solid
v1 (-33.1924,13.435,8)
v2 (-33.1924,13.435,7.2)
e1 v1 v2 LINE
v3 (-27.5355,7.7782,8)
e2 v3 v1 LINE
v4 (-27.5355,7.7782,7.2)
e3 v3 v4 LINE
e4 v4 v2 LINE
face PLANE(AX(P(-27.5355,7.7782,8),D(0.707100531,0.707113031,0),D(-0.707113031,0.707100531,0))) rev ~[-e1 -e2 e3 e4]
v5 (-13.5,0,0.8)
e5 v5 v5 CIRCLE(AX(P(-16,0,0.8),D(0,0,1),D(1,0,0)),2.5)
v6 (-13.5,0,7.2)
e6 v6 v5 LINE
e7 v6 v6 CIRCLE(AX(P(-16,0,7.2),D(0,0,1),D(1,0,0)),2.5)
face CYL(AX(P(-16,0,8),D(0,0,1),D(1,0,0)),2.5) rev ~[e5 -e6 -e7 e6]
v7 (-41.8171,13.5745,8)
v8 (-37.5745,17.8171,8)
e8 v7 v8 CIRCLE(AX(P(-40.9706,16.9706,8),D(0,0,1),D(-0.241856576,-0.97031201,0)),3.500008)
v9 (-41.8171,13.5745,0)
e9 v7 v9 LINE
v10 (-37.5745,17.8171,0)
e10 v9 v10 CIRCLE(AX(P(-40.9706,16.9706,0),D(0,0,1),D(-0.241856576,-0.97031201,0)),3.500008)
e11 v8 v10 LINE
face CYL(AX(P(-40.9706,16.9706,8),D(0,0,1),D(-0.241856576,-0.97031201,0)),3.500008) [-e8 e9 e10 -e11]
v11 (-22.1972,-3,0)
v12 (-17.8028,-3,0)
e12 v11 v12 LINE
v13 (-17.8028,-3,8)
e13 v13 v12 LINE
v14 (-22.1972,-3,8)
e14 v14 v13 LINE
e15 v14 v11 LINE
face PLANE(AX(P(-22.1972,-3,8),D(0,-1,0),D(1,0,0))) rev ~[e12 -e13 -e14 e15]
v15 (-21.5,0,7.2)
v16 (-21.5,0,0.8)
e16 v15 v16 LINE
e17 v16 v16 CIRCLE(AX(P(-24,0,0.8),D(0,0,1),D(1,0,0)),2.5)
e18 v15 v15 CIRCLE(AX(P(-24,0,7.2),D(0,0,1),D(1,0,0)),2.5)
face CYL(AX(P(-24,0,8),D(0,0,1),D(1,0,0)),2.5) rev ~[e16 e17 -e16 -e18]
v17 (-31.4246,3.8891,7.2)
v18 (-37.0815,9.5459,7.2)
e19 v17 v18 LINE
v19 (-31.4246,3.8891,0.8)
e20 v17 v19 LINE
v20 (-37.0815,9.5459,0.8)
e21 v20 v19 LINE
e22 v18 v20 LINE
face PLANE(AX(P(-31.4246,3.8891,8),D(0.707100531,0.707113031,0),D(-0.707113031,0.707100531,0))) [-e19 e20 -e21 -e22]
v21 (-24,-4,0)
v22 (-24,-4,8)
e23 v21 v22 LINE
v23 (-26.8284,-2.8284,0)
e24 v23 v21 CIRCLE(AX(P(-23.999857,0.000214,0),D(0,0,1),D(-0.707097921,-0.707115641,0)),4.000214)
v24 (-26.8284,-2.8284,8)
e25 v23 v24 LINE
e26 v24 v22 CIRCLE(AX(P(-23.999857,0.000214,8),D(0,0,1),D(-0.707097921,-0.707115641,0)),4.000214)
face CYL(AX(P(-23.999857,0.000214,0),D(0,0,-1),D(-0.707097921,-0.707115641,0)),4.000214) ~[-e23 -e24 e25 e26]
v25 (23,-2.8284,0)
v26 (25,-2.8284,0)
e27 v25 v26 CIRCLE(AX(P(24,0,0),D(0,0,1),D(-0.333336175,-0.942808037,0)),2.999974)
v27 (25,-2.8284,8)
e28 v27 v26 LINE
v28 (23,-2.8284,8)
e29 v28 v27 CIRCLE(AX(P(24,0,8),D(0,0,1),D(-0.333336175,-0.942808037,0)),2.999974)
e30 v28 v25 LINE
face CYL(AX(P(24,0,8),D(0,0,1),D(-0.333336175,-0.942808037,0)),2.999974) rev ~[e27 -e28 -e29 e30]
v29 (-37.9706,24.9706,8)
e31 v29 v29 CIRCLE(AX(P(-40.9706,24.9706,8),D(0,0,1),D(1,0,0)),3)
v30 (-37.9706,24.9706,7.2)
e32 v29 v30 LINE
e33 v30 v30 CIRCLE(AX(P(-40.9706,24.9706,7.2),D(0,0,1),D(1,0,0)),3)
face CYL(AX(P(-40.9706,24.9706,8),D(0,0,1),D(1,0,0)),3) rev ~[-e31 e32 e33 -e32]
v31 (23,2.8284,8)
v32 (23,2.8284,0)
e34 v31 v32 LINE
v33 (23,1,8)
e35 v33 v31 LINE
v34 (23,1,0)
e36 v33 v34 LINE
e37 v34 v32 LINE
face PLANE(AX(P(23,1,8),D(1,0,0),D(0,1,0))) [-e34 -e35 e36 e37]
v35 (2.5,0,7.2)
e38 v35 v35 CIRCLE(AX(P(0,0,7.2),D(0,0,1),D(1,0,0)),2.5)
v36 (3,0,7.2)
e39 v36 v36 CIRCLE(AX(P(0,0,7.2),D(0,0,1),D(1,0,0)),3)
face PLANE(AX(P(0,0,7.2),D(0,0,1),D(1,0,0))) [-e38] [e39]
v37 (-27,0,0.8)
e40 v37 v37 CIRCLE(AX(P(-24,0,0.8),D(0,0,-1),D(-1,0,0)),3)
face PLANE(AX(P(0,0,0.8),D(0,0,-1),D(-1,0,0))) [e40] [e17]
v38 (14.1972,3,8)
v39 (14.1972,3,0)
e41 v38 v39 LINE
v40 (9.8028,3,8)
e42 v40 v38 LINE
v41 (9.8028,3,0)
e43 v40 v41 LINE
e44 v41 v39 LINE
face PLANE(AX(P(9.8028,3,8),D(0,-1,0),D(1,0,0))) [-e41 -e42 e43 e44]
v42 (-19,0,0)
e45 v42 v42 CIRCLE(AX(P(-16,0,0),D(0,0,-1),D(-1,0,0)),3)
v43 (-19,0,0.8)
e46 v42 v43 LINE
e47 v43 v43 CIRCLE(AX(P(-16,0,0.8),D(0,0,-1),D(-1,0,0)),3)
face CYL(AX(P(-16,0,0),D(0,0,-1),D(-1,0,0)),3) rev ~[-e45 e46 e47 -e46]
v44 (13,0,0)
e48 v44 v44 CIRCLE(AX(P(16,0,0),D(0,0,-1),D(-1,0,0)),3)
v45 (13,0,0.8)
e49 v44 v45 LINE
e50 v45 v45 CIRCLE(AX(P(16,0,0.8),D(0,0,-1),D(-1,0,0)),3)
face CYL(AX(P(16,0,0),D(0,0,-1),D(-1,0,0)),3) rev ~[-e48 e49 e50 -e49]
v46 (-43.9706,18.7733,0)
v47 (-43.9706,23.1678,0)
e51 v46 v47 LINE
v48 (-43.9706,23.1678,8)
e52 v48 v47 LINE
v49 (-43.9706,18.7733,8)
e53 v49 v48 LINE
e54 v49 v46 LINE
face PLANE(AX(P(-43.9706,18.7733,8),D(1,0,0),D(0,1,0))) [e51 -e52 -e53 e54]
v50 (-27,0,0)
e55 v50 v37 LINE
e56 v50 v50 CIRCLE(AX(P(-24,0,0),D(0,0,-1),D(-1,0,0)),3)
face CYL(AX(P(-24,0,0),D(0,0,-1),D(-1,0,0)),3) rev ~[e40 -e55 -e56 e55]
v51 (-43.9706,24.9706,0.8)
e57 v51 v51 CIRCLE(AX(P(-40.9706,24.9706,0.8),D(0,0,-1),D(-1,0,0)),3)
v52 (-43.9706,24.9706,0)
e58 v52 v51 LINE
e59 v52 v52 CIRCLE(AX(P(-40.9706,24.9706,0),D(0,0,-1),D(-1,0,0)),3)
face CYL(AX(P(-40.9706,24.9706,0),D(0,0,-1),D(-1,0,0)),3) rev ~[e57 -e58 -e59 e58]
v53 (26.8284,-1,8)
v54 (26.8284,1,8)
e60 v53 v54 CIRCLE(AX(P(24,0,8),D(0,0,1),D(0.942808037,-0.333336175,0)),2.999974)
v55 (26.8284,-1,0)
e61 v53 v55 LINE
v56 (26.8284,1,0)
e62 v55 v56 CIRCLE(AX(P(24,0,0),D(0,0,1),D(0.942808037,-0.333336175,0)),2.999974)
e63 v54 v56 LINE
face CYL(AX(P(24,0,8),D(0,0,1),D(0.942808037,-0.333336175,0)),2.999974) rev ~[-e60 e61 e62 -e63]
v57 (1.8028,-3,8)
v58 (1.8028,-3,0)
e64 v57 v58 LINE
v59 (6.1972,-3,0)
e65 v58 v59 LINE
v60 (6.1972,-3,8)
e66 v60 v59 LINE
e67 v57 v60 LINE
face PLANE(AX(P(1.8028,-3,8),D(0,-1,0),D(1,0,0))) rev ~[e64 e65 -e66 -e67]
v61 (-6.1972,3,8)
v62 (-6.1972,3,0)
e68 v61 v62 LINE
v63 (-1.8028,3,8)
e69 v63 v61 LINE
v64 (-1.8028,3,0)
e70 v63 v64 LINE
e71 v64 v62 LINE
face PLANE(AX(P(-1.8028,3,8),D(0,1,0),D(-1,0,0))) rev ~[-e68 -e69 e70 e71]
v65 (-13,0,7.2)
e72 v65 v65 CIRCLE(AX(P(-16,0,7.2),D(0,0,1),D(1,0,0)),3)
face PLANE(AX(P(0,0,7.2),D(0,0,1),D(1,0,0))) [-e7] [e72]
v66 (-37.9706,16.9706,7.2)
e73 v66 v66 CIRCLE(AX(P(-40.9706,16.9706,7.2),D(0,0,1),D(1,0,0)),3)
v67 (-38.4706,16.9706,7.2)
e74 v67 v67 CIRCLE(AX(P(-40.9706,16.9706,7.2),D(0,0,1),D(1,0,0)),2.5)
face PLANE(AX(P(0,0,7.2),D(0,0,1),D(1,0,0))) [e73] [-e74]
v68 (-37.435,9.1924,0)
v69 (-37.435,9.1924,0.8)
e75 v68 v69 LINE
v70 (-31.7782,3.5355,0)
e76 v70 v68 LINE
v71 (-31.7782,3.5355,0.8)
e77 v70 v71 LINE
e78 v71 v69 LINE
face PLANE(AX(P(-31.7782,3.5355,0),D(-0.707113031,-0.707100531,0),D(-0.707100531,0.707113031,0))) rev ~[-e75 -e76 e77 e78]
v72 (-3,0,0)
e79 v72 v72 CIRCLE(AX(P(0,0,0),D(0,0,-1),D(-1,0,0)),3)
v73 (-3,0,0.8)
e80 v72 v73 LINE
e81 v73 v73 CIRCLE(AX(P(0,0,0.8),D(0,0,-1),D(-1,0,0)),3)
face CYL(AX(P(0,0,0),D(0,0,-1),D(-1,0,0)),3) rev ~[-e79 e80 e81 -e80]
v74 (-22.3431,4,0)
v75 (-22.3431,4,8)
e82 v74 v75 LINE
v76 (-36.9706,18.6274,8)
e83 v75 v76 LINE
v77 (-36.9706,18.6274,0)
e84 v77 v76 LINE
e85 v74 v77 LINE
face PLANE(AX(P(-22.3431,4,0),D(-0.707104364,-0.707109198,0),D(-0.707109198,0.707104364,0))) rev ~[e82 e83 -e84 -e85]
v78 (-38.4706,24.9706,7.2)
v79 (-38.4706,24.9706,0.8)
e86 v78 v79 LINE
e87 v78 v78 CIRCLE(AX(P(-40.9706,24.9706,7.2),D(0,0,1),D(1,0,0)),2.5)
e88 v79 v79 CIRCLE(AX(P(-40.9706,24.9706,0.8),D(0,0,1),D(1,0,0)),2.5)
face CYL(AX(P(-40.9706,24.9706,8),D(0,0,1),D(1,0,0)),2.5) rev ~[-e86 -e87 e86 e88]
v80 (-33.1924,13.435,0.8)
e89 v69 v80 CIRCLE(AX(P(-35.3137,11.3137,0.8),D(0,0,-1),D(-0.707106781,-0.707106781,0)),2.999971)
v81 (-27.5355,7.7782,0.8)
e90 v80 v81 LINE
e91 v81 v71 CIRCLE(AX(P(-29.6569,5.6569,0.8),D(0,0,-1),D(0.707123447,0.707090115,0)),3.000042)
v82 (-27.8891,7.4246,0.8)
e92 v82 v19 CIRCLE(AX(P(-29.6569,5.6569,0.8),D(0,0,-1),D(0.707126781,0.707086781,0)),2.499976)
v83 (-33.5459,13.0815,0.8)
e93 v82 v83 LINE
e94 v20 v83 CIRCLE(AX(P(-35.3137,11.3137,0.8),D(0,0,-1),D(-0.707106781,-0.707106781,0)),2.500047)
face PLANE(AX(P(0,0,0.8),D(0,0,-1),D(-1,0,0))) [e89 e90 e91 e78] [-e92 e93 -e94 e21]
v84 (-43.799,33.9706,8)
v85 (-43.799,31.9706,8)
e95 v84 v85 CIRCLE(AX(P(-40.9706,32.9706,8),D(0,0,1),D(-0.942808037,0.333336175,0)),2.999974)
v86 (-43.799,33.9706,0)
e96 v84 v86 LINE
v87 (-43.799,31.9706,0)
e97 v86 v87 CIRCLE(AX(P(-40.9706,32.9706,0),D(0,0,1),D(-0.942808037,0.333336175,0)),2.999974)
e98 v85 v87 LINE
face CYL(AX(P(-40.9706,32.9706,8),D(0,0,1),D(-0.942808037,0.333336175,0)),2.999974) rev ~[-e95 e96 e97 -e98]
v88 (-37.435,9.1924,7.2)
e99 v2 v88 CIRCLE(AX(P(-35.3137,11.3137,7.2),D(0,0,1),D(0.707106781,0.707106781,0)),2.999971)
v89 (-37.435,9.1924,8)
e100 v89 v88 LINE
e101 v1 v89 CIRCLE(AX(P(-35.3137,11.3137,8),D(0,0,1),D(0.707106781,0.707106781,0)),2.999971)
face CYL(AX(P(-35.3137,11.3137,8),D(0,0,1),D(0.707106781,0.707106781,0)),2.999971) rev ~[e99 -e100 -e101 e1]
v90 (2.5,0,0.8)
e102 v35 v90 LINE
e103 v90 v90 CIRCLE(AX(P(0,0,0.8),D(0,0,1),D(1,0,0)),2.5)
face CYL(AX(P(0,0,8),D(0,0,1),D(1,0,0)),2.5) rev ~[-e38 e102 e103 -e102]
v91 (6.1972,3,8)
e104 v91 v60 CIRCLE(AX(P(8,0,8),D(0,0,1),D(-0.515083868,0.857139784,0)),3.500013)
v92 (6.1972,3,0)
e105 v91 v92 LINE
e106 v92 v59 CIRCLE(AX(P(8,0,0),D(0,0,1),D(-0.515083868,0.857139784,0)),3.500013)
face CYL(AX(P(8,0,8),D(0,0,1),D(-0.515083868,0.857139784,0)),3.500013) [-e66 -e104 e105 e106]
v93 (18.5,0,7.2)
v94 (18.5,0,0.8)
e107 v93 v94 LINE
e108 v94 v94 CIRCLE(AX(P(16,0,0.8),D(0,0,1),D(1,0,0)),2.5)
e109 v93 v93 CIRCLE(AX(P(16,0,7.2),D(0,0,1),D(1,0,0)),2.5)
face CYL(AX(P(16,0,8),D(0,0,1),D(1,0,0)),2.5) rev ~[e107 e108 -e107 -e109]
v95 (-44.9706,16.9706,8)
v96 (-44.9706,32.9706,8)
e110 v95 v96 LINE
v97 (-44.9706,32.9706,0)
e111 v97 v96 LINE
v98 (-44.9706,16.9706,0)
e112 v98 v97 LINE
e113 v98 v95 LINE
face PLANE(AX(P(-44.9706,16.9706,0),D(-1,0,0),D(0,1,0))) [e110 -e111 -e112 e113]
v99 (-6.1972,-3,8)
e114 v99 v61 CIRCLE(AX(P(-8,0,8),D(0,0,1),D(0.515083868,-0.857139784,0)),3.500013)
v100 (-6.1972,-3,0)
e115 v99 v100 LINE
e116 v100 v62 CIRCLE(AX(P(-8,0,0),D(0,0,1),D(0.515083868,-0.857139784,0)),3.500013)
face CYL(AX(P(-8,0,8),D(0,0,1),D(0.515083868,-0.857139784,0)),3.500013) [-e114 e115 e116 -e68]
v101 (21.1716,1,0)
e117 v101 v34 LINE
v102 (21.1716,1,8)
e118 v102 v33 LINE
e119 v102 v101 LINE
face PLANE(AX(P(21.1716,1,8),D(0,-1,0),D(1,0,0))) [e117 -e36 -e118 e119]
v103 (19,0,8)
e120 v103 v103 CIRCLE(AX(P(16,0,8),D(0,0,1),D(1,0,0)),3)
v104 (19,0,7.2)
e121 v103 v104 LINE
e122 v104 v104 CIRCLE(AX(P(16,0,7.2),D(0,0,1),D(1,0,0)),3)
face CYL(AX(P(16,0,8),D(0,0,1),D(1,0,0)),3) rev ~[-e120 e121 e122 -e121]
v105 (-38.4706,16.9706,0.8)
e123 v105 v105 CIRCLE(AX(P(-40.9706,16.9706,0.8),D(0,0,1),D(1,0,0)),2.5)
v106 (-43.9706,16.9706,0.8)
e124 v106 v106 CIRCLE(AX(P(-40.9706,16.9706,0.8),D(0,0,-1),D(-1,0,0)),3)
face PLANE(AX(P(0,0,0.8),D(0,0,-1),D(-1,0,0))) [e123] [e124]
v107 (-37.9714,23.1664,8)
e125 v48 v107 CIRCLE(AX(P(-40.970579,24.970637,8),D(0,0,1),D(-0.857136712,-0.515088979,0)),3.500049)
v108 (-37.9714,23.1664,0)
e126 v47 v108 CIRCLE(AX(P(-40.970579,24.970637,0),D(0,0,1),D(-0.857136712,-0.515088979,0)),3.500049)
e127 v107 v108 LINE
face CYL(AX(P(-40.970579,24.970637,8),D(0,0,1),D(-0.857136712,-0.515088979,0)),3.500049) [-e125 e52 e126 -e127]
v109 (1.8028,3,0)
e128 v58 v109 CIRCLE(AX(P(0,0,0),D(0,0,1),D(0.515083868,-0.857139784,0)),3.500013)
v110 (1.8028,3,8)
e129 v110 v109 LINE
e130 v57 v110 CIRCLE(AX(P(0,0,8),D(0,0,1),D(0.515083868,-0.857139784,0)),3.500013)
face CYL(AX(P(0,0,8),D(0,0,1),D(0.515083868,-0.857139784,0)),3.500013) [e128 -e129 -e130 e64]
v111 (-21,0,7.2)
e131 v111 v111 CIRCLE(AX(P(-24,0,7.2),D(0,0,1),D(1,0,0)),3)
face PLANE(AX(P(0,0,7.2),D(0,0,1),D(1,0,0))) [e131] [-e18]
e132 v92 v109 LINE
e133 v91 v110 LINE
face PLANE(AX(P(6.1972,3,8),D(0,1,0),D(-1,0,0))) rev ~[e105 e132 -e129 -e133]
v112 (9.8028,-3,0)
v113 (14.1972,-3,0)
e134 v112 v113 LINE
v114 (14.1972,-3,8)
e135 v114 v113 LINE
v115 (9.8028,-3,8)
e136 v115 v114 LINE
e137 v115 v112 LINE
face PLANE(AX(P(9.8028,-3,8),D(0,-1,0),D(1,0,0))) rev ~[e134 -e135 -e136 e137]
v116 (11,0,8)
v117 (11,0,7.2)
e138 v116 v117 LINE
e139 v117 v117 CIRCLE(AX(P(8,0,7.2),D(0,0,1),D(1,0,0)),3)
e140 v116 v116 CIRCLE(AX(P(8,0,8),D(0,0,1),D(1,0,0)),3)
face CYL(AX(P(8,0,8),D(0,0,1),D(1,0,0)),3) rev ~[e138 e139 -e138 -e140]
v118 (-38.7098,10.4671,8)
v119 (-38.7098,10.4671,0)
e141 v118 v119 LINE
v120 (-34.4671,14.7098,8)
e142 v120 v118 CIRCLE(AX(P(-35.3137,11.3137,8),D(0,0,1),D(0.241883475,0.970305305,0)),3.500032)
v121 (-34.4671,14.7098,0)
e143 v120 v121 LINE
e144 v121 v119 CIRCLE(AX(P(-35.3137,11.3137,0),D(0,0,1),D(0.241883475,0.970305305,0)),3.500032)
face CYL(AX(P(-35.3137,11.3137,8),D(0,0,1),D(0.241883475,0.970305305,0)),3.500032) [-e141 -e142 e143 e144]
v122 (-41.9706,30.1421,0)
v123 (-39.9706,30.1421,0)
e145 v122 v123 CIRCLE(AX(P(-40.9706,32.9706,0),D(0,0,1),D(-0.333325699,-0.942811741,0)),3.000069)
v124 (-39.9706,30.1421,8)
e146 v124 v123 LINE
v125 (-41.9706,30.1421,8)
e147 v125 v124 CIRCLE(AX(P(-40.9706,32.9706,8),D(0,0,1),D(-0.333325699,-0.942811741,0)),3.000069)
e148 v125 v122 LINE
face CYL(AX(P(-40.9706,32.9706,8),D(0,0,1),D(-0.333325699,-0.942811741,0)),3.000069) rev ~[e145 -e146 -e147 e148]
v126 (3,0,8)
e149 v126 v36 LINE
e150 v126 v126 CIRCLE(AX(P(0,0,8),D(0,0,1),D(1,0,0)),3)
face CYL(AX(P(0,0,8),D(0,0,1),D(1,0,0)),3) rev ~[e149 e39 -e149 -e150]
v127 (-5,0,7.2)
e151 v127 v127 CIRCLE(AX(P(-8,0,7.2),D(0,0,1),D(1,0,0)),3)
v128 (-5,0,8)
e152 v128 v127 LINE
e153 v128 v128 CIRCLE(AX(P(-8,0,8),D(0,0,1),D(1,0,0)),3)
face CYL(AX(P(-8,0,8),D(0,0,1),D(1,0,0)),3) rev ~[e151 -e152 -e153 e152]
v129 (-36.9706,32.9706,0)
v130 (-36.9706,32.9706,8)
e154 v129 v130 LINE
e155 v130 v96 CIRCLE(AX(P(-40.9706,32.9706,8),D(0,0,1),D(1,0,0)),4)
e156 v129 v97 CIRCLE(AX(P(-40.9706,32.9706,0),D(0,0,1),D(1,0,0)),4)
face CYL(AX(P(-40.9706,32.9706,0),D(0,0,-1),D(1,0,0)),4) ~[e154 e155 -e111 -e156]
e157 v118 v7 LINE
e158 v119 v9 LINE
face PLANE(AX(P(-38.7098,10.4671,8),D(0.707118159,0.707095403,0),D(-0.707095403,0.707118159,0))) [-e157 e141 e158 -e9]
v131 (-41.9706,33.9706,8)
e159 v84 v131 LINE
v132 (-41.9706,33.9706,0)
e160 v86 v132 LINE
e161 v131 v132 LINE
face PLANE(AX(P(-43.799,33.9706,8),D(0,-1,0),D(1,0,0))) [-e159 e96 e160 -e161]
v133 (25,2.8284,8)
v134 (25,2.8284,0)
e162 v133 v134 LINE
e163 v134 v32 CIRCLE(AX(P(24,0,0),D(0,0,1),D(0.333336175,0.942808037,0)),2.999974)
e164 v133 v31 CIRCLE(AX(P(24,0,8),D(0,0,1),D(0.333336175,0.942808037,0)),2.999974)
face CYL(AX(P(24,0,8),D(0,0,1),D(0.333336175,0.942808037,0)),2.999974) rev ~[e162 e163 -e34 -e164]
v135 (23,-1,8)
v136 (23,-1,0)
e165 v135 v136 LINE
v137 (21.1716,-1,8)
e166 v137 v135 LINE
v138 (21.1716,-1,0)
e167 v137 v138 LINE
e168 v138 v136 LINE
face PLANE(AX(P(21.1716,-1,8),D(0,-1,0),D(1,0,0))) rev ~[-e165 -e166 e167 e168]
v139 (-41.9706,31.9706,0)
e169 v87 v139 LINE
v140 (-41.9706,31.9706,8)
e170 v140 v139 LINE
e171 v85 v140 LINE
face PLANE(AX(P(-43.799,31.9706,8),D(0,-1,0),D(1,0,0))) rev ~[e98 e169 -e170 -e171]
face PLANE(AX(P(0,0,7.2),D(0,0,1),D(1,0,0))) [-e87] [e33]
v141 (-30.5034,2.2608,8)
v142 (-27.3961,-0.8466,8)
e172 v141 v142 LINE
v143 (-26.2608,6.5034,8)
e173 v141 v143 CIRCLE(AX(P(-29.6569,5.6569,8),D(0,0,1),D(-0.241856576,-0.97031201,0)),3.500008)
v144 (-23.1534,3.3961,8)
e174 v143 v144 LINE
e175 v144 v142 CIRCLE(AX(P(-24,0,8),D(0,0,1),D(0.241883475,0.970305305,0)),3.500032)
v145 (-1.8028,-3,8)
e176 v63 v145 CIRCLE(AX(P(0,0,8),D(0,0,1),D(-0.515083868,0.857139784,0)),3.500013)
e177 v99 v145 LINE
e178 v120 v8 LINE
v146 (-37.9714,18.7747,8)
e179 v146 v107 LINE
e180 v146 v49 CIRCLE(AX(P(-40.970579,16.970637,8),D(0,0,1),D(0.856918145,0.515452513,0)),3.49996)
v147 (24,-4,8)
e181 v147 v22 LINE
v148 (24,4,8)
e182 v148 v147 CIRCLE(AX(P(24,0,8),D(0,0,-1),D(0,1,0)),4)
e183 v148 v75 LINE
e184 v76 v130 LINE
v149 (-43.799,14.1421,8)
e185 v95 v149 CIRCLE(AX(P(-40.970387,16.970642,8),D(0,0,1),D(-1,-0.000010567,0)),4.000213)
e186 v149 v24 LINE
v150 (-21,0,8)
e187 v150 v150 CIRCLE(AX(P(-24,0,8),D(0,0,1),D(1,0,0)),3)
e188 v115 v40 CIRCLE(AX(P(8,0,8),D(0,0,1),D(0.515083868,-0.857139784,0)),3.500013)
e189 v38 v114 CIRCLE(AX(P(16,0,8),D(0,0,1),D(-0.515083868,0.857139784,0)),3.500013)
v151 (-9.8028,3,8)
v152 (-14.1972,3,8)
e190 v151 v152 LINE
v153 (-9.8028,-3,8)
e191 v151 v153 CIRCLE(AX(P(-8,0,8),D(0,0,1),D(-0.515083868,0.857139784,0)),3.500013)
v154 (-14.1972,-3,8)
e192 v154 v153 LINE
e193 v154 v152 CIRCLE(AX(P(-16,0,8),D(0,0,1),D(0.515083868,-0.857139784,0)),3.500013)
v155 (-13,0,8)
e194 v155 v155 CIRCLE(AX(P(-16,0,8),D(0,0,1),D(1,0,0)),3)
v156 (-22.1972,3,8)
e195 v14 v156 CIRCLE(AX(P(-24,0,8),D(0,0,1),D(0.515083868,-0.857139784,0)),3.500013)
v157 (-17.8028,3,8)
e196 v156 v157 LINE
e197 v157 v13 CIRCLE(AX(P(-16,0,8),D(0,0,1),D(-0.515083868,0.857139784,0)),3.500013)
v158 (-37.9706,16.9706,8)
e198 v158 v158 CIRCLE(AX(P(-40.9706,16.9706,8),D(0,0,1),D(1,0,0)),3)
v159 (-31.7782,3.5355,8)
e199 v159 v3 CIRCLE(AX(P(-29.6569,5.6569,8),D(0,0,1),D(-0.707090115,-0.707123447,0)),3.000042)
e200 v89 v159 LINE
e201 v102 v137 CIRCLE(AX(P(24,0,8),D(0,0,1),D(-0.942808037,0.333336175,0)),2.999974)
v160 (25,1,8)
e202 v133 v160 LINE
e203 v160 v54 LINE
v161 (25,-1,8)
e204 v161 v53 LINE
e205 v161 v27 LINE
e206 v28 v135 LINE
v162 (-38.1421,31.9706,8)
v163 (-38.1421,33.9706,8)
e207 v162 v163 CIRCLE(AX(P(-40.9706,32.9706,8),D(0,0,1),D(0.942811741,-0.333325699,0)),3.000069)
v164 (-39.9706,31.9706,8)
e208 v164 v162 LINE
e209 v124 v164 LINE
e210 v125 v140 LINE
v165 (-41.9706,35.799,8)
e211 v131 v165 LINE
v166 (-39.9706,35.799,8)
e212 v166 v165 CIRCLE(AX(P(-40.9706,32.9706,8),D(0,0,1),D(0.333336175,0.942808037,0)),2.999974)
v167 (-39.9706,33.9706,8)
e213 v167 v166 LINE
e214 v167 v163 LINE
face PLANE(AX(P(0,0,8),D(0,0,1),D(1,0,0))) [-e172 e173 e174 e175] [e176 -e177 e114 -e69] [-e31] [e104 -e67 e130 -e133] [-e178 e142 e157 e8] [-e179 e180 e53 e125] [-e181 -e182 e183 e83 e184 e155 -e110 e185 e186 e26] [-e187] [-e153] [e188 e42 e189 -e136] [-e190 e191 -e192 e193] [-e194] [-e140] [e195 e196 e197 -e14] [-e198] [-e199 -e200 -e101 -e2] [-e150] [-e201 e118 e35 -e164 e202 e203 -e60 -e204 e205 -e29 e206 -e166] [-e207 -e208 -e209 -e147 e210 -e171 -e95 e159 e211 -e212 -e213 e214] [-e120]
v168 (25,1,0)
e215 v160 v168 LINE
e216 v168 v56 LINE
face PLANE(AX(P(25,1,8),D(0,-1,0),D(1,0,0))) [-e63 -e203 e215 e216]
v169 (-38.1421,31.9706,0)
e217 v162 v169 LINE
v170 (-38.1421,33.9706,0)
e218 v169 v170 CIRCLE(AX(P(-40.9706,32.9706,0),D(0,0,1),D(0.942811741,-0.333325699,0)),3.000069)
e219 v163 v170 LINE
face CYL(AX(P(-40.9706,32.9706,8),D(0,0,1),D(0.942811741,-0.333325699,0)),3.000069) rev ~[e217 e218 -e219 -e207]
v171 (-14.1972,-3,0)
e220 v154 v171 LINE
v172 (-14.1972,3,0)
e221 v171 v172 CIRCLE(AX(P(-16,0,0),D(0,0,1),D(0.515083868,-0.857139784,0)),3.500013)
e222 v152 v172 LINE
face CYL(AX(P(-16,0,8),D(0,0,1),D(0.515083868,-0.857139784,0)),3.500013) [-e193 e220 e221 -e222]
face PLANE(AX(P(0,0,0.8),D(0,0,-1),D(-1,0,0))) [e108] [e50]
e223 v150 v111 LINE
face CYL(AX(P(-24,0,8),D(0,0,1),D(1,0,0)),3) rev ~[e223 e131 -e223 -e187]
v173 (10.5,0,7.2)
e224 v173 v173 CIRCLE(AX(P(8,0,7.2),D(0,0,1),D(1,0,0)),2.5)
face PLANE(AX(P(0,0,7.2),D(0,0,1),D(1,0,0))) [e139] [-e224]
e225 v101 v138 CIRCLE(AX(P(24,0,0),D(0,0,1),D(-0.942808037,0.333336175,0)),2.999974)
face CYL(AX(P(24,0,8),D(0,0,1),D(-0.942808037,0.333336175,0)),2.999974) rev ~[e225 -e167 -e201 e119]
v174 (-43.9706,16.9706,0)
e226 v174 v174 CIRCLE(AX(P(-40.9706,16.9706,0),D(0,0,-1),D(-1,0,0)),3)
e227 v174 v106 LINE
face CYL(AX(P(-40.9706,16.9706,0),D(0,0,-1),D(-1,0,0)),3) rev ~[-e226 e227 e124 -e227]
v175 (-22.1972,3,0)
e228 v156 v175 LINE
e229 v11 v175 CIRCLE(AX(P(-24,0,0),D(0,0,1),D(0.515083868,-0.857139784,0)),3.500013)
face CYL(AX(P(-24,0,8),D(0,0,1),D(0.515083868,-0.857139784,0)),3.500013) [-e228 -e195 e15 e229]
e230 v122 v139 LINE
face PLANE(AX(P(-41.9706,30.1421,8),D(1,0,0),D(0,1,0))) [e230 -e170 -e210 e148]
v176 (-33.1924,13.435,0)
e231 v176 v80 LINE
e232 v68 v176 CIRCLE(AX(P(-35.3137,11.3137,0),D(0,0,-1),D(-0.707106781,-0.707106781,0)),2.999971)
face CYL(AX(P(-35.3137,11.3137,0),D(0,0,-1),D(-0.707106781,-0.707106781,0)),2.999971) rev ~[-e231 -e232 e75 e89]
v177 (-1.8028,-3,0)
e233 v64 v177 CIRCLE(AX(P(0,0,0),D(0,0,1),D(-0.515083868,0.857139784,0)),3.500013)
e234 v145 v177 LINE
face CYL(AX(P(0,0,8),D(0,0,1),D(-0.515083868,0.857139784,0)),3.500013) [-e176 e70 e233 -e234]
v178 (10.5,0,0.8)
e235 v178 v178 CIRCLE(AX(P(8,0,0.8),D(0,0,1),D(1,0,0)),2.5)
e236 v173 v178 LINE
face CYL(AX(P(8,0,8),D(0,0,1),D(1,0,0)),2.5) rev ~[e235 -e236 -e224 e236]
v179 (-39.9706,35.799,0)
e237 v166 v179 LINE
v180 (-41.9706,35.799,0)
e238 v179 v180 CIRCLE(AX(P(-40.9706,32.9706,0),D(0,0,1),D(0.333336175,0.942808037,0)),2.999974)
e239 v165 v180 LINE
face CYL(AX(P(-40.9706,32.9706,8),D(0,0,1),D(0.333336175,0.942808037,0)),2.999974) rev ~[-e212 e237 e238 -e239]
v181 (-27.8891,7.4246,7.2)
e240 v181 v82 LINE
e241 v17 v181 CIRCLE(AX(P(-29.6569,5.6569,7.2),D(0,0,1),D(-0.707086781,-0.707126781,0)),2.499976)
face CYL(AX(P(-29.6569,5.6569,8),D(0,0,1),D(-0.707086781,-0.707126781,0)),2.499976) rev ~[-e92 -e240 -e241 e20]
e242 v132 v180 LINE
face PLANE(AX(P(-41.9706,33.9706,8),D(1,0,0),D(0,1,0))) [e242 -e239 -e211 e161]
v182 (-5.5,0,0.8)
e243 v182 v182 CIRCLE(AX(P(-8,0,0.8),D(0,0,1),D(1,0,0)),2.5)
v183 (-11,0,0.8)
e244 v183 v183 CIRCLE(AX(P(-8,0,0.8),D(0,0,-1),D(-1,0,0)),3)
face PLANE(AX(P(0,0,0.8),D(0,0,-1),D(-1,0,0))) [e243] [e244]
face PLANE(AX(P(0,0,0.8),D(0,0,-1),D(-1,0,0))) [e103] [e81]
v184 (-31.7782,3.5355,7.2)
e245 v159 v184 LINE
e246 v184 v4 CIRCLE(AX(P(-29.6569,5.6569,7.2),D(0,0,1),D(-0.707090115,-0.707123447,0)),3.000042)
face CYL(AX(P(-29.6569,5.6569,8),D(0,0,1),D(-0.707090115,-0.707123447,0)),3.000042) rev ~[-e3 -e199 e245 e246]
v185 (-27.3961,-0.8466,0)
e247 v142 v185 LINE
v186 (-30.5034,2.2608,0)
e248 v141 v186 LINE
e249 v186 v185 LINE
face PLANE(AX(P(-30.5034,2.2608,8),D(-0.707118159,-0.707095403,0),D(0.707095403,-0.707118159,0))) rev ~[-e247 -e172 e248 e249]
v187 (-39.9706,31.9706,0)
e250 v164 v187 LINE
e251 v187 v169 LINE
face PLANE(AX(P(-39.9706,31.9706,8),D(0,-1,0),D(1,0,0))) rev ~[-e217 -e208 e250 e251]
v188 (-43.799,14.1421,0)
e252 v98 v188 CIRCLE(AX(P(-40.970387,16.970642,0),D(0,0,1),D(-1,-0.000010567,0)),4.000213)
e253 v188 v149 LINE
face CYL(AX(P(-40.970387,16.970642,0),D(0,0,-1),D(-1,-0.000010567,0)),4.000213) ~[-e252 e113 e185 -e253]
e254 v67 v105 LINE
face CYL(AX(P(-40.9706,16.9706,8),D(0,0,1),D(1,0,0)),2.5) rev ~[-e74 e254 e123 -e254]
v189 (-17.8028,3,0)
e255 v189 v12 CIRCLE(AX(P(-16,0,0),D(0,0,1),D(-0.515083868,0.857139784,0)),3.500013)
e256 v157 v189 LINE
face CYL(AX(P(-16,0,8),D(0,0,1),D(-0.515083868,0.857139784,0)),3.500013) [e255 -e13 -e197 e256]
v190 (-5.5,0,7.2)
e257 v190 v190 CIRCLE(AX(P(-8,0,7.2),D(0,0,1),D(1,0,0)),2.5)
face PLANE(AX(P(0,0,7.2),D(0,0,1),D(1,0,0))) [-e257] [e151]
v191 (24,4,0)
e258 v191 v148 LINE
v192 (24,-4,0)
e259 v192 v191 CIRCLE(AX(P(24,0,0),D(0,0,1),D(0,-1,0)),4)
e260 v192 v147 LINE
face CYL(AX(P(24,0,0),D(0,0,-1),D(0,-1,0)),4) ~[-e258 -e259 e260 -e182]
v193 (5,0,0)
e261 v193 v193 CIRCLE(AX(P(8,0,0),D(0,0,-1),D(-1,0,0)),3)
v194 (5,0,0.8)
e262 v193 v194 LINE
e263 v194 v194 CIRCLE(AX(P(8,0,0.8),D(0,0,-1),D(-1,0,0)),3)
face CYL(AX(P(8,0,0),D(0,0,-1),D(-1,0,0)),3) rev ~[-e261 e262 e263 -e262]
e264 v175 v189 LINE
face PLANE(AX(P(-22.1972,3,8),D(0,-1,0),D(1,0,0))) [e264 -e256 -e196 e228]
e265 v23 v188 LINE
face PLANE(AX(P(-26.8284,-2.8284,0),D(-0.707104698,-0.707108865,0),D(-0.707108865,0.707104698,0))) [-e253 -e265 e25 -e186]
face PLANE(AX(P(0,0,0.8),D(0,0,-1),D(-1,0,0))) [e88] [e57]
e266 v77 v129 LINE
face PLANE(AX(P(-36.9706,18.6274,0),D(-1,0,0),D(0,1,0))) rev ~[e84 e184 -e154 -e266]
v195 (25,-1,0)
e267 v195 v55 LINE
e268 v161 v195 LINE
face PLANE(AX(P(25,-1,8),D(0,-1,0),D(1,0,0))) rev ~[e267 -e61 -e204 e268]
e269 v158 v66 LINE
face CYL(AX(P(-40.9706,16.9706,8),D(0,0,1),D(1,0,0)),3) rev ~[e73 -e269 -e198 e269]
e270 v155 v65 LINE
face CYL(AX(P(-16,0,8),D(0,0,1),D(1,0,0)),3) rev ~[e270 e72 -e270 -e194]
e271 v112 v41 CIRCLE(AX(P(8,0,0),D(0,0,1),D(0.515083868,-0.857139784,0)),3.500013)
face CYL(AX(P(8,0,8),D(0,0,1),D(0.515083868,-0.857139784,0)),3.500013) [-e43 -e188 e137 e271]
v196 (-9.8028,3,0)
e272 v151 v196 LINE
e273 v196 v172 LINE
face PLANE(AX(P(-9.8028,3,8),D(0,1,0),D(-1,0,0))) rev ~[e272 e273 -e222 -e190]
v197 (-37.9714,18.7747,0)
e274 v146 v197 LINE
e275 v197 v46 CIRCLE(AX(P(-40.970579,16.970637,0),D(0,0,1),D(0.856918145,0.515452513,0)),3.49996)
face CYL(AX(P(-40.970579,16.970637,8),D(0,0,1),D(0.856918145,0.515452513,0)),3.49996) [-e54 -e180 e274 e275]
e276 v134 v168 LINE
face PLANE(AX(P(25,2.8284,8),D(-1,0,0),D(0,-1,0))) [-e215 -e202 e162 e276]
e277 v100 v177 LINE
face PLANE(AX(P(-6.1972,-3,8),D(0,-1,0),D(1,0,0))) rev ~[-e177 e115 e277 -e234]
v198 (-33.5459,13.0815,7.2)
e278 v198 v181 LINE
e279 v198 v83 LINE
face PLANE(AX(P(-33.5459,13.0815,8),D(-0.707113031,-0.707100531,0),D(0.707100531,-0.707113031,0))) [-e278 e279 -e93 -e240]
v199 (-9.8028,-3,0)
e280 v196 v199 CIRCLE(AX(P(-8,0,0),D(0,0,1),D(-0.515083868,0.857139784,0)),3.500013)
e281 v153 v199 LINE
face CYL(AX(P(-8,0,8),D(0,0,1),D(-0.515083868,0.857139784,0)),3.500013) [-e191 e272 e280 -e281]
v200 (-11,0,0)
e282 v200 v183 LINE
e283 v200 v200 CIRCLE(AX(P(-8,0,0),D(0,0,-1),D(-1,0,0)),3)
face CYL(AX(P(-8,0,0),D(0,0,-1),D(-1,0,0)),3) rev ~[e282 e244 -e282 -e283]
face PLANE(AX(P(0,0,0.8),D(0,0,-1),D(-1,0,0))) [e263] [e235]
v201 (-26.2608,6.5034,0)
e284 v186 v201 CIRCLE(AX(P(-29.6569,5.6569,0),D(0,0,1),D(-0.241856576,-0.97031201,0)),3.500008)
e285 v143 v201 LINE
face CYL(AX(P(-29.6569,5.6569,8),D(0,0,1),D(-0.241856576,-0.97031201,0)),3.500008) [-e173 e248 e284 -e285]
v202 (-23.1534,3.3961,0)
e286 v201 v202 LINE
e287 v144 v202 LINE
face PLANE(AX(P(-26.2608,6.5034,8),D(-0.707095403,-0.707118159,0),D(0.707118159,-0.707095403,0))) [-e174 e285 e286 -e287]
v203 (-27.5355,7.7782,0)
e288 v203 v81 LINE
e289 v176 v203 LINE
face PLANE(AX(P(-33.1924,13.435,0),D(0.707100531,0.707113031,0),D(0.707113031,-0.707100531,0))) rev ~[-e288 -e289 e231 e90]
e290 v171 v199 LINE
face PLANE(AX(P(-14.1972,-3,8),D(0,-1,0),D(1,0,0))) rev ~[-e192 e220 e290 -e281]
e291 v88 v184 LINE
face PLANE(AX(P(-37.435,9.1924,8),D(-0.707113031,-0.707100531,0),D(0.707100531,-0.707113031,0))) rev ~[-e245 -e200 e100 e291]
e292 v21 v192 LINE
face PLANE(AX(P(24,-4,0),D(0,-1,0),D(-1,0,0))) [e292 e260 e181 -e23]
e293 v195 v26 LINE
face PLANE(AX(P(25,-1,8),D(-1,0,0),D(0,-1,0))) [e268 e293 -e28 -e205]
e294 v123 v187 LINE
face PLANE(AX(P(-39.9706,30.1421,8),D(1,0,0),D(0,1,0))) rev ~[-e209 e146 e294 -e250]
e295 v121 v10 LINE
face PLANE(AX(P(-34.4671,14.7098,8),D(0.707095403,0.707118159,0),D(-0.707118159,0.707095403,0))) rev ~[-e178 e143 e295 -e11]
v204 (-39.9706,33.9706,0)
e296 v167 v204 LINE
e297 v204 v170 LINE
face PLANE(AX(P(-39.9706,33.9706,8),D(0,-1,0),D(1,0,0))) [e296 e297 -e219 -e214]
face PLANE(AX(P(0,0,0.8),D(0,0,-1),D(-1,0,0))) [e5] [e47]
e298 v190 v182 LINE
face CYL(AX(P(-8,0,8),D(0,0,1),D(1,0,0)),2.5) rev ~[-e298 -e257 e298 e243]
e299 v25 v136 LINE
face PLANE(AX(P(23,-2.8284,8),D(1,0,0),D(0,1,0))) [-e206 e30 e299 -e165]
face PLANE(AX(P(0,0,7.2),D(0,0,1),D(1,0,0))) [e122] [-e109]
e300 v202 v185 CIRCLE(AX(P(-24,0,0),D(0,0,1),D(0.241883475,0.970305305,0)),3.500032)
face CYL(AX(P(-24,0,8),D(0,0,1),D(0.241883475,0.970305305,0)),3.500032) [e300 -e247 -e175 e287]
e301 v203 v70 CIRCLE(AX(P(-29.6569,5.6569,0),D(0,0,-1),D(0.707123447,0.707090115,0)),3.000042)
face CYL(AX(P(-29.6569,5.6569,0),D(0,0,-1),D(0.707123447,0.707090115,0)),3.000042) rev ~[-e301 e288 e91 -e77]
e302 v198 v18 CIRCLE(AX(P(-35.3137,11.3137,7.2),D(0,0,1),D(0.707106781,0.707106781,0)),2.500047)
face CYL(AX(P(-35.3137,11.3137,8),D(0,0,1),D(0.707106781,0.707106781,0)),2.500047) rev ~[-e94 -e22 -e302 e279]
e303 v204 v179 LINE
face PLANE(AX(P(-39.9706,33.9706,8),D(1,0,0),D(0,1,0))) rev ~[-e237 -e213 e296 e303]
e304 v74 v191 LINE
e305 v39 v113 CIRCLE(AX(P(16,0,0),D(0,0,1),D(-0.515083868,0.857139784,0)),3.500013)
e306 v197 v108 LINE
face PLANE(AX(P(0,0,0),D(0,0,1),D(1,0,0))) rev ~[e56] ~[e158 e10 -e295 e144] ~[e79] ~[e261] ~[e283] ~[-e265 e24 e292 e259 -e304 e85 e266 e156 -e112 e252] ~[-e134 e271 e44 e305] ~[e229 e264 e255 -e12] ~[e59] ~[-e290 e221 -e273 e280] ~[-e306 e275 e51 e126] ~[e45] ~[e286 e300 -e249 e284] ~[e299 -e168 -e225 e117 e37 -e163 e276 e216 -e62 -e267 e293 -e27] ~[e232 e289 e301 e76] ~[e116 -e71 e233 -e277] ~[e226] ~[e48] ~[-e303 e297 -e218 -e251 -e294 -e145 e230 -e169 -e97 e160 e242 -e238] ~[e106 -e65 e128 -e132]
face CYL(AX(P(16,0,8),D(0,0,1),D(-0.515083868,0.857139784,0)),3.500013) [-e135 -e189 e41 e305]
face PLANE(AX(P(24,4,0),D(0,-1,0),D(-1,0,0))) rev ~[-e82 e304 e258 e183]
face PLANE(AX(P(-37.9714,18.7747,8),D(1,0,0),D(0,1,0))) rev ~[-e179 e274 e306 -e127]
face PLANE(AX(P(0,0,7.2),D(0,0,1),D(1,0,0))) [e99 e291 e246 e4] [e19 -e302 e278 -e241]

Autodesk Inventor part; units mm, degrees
ref_plane "YZ Plane" through (0, 0, 0) normal (1, 0, 0) x (0, 1, 0)
ref_plane "XZ Plane" through (0, 0, 0) normal (0, 1, 0) x (-1, 0, 0)
ref_plane "XY Plane" through (0, 0, 0) normal (0, 0, 1) x (1, 0, 0)
sketch "Sketch1" plane through (0, 0, 0) normal (0, 0, 1) x (1, 0, 0)
  arc A0 (24, -4) -> (24, 4) centre (24, 0) ccw
  arc A1 (-44.9706, 16.9706) -> (-43.799, 14.1421) centre (-40.9706, 16.9706) ccw
  arc A2 (-36.9706, 32.9706) -> (-44.9706, 32.9706) centre (-40.9706, 32.9706) ccw
  line L0 (24, 4) -> (-22.3431, 4)
  line L1 (-22.3431, 4) -> (-36.9706, 18.6274)
  line L2 (-36.9706, 18.6274) -> (-36.9706, 32.9706)
  line L3 (24, -4) -> (-24, -4)
  line L4 (-26.8284, -2.8284) -> (-43.799, 14.1421)
  line L5 (-44.9706, 16.9706) -> (-44.9706, 32.9706)
  arc A3 (-26.8284, -2.8284) -> (-24, -4) centre (-24, 0) ccw
  line L6 (-59.9022, 0) -> (42.6504, 0) projected
  line L7 (0, -12.5317) -> (0, 45.2209) projected
  point P0 (0, 0)
  dimension "d4" = 48
  dimension "d6" = 16
  dimension "d9" = 24
  dimension "d12" = 4
  dimension "d13" = 4
  dimension "d14" = 4
  dimension "d15" = 4
  dimension "d16" = 135
  dimension "d17" = 135
  dimension "d18" = 4
  dimension "d19" = 4
  dimension "d20" = 4
  dimension "d21" = 4
  dimension "d22" = 24
  dimension "d23" = 0
  dimension "d25" = 4
  dimension "d26" = 4
  dimension "d27" = 8
  dimension "d28" = 8
  dimension "d29" = 22.3432
  dimension "d30" = 36.9706
extrude "Extrusion1" add sketch "Sketch1" along normal blind 8
sketch "Sketch2" plane through (0, 0, 8) normal (0, 0, 1) x (1, 0, 0)
  arc A0 (24, -4) -> (24, 4) centre (24, 0) ccw projected
  line L0 (24, -4) -> (-24, -4) projected
  arc A1 (21.1716, 1) -> (21.1716, -1) centre (24, 0) ccw
  arc A2 (23, -2.8284) -> (25, -2.8284) centre (24, 0) ccw
  arc A3 (26.8284, -1) -> (26.8284, 1) centre (24, 0) ccw
  arc A4 (25, 2.8284) -> (23, 2.8284) centre (24, 0) ccw
  line L1 (21.1716, 1) -> (23, 1)
  line L2 (25, 1) -> (26.8284, 1)
  line L3 (23, -2.8284) -> (23, -1)
  line L4 (23, 1) -> (23, 2.8284)
  line L5 (21.1716, -1) -> (23, -1)
  line L6 (25, -1) -> (26.8284, -1)
  line L7 (25, 2.8284) -> (25, 1)
  line L8 (25, -1) -> (25, -2.8284)
  point P0 (0, 0)
  dimension "d34" = 3
  dimension "d35" = 3
  dimension "d36" = 3
  dimension "d37" = 3
  dimension "d38" = 2
  dimension "d39" = 2
  dimension "d40" = 2
  dimension "d41" = 2
  dimension "d42" = 1
  dimension "d43" = 1
  dimension "d44" = 1
  dimension "d45" = 1
extrude "Extrusion2" cut sketch "Sketch2" against normal through all
sketch "Sketch3" plane through (0, 0, 8) normal (0, 0, 1) x (1, 0, 0)
  arc A0 (-36.9706, 32.9706) -> (-44.9706, 32.9706) centre (-40.9706, 32.9706) ccw projected
  line L0 (24, -4) -> (-24, -4) projected
  arc A1 (-39.9706, 35.799) -> (-41.9706, 35.799) centre (-40.9706, 32.9706) ccw
  arc A2 (-43.799, 33.9706) -> (-43.799, 31.9706) centre (-40.9706, 32.9706) ccw
  arc A3 (-41.9706, 30.1421) -> (-39.9706, 30.1421) centre (-40.9706, 32.9706) ccw
  arc A4 (-38.1421, 31.9706) -> (-38.1421, 33.9706) centre (-40.9706, 32.9706) ccw
  line L1 (-39.9706, 30.1421) -> (-39.9706, 31.9706)
  line L2 (-39.9706, 33.9706) -> (-39.9706, 35.799)
  line L3 (-43.799, 33.9706) -> (-41.9706, 33.9706)
  line L4 (-39.9706, 33.9706) -> (-38.1421, 33.9706)
  line L5 (-41.9706, 30.1421) -> (-41.9706, 31.9706)
  line L6 (-41.9706, 33.9706) -> (-41.9706, 35.799)
  line L7 (-43.799, 31.9706) -> (-41.9706, 31.9706)
  line L8 (-39.9706, 31.9706) -> (-38.1421, 31.9706)
  point P0 (0, 0)
  dimension "d49" = 3
  dimension "d50" = 2
  dimension "d51" = 3
  dimension "d52" = 2
  dimension "d53" = 3
  dimension "d54" = 2
  dimension "d55" = 3
  dimension "d56" = 2
  dimension "d57" = 1
  dimension "d58" = 1
  dimension "d59" = 1
  dimension "d60" = 1
extrude "Extrusion3" cut sketch "Sketch3" against normal through all
sketch "Sketch4" plane through (0, 0, 8) normal (0, 0, 1) x (1, 0, 0)
  arc A0 (-26.8284, -2.8284) -> (-24, -4) centre (-24, 0) ccw projected
  circle A1 centre (-24, 0) radius 2.5
  line L0 (-59.9022, 0) -> (42.6504, 0) projected
  circle A2 centre (-16, 0) radius 2.5
  circle A3 centre (-8, 0) radius 2.5
  circle A4 centre (0, 0) radius 2.5
  circle A5 centre (8, 0) radius 2.5
  circle A6 centre (16, 0) radius 2.5
  point P0 (0, 0)
  dimension "d63" = 5
  dimension "d69" = 8
extrude "Extrusion4" cut sketch "Sketch4" against normal through all
sketch "Sketch5" plane through (0, 0, 8) normal (0, 0, 1) x (1, 0, 0)
  arc A0 (-44.9706, 16.9706) -> (-43.799, 14.1421) centre (-40.9706, 16.9706) ccw projected
  circle A1 centre (-40.9706, 16.9706) radius 2.5
  line L0 (0, -12.5317) -> (0, 45.2209) projected
  circle A2 centre (-40.9706, 24.9706) radius 2.5
  dimension "d74" = 5
  dimension "d80" = 8
extrude "Extrusion5" cut sketch "Sketch5" against normal through all
sketch "Sketch6" plane through (0, 0, 8) normal (0, 0, 1) x (1, 0, 0)
  circle A0 centre (-40.9706, 16.9706) radius 2.5 projected
  circle A1 centre (-24, 0) radius 2.5 projected
  line L0 (-36.9706, 18.6274) -> (-22.3431, 4) projected
  line L1 (-26.8284, -2.8284) -> (-43.799, 14.1421) projected
  arc A2 (-33.5459, 13.0815) -> (-37.0815, 9.5459) centre (-35.3137, 11.3137) ccw
  arc A3 (-31.4246, 3.8891) -> (-27.8891, 7.4246) centre (-29.6569, 5.6569) ccw
  line L2 (-33.5459, 13.0815) -> (-27.8891, 7.4246)
  line L3 (-31.4246, 3.8891) -> (-37.0815, 9.5459)
  dimension "d111" = 2.5
  dimension "d112" = 2.5
  dimension "d115" = 0
  dimension "d116" = 4
  dimension "d117" = 5
  dimension "d118" = 2.5
  dimension "d119" = 8
  dimension "d120" = 8
extrude "Extrusion6" cut sketch "Sketch6" against normal through all contours L2 A3 L3 A2
sketch "Sketch7" plane through (0, 0, 8) normal (0, 0, 1) x (1, 0, 0)
  line L0 (-31.4246, 3.8891) -> (-37.0815, 9.5459) projected
  arc A0 (-33.5459, 13.0815) -> (-37.0815, 9.5459) centre (-35.3137, 11.3137) ccw projected
  line L1 (-33.5459, 13.0815) -> (-27.8891, 7.4246) projected
  arc A1 (-31.4246, 3.8891) -> (-27.8891, 7.4246) centre (-29.6569, 5.6569) ccw projected
  circle A2 centre (-40.9706, 24.9706) radius 2.5 projected
  circle A3 centre (-40.9706, 16.9706) radius 2.5 projected
  circle A4 centre (16, 0) radius 2.5 projected
  circle A5 centre (8, 0) radius 2.5 projected
  circle A6 centre (0, 0) radius 2.5 projected
  circle A7 centre (-8, 0) radius 2.5 projected
  circle A8 centre (-16, 0) radius 2.5 projected
  circle A9 centre (-24, 0) radius 2.5 projected
  arc A10 (-44.9706, 16.9706) -> (-43.799, 14.1421) centre (-40.9706, 16.9706) ccw projected
  arc A11 (-26.8284, -2.8284) -> (-24, -4) centre (-24, 0) ccw projected
  line L2 (-27.5355, 7.7782) -> (-33.1924, 13.435)
  arc A12 (-33.1924, 13.435) -> (-37.435, 9.1924) centre (-35.3137, 11.3137) ccw
  line L3 (-37.435, 9.1924) -> (-31.7782, 3.5355)
  arc A13 (-31.7782, 3.5355) -> (-27.5355, 7.7782) centre (-29.6569, 5.6569) ccw
  circle A14 centre (-40.9706, 24.9706) radius 3
  circle A15 centre (-40.9706, 16.9706) radius 3
  circle A16 centre (-24, 0) radius 3
  circle A17 centre (-16, 0) radius 3
  circle A18 centre (-8, 0) radius 3
  circle A19 centre (0, 0) radius 3
  circle A20 centre (8, 0) radius 3
  circle A21 centre (16, 0) radius 3
  dimension "d123" = 6
  dimension "d124" = 6
  dimension "d125" = 6
  dimension "d126" = 6
  dimension "d127" = 6
  dimension "d128" = 6
  dimension "d129" = 3
  dimension "d130" = 6
  dimension "d131" = 6
extrude "Extrusion7" cut sketch "Sketch7" against normal blind 0.8
sketch "Sketch8" plane through (0, 0, 0) normal (0, 0, -1) x (-1, 0, 0)
  line L0 (37.0815, 9.5459) -> (31.4246, 3.8891) projected
  arc A0 (27.8891, 7.4246) -> (31.4246, 3.8891) centre (29.6569, 5.6569) ccw projected
  line L1 (27.8891, 7.4246) -> (33.5459, 13.0815) projected
  arc A1 (37.0815, 9.5459) -> (33.5459, 13.0815) centre (35.3137, 11.3137) ccw projected
  circle A2 centre (40.9706, 24.9706) radius 2.5 projected
  circle A3 centre (40.9706, 16.9706) radius 2.5 projected
  circle A4 centre (-16, 0) radius 2.5 projected
  circle A5 centre (-8, 0) radius 2.5 projected
  circle A6 centre (0, 0) radius 2.5 projected
  circle A7 centre (8, 0) radius 2.5 projected
  circle A8 centre (16, 0) radius 2.5 projected
  circle A9 centre (24, 0) radius 2.5 projected
  arc A10 (24, -4) -> (26.8284, -2.8284) centre (24, 0) ccw projected
  arc A11 (43.799, 14.1421) -> (44.9706, 16.9706) centre (40.9706, 16.9706) ccw projected
  circle A12 centre (40.9706, 24.9706) radius 3
  circle A13 centre (40.9706, 16.9706) radius 3
  circle A14 centre (24, 0) radius 3
  circle A15 centre (16, 0) radius 3
  circle A16 centre (8, 0) radius 3
  circle A17 centre (0, 0) radius 3
  circle A18 centre (-8, 0) radius 3
  circle A19 centre (-16, 0) radius 3
  line L2 (31.7782, 3.5355) -> (37.435, 9.1924)
  arc A20 (37.435, 9.1924) -> (33.1924, 13.435) centre (35.3137, 11.3137) ccw
  line L3 (33.1924, 13.435) -> (27.5355, 7.7782)
  arc A21 (27.5355, 7.7782) -> (31.7782, 3.5355) centre (29.6569, 5.6569) ccw
  dimension "d134" = 6
  dimension "d135" = 6
  dimension "d136" = 6
  dimension "d137" = 6
  dimension "d138" = 6
  dimension "d139" = 6
  dimension "d140" = 6
  dimension "d141" = 6
  dimension "d142" = 3
extrude "Extrusion8" cut sketch "Sketch8" against normal blind 0.8
sketch "Sketch9" plane through (0, 0, 8) normal (0, 0, 1) x (1, 0, 0)
  circle A0 centre (-40.9706, 24.9706) radius 3 projected
  circle A1 centre (-40.9706, 16.9706) radius 3 projected
  circle A2 centre (-24, 0) radius 3 projected
  circle A3 centre (-16, 0) radius 3 projected
  circle A4 centre (-8, 0) radius 3 projected
  circle A5 centre (0, 0) radius 3 projected
  circle A6 centre (8, 0) radius 3 projected
  circle A7 centre (16, 0) radius 3 projected
  arc A8 (-33.1924, 13.435) -> (-37.435, 9.1924) centre (-35.3137, 11.3137) ccw projected
  arc A9 (-31.7782, 3.5355) -> (-27.5355, 7.7782) centre (-29.6569, 5.6569) ccw projected
  arc A10 (-44.9706, 16.9706) -> (-43.799, 14.1421) centre (-40.9706, 16.9706) ccw projected
  line L0 (-26.8284, -2.8284) -> (-43.799, 14.1421) projected
  arc A11 (-26.8284, -2.8284) -> (-24, -4) centre (-24, 0) ccw projected
  line L1 (24, -4) -> (-24, -4) projected
  arc A12 (-22.1972, -3) -> (-22.1972, 3) centre (-24, 0) ccw
  arc A13 (-30.5034, 2.2608) -> (-26.2608, 6.5034) centre (-29.6569, 5.6569) ccw
  arc A14 (-34.4671, 14.7098) -> (-38.7098, 10.4671) centre (-35.3137, 11.3137) ccw
  arc A15 (-43.9706, 23.1678) -> (-37.9714, 23.1664) centre (-40.9706, 24.9706) ccw
  arc A16 (14.1972, 3) -> (14.1972, -3) centre (16, 0) ccw
  line L2 (9.8028, 3) -> (14.1972, 3)
  line L3 (9.8028, -3) -> (14.1972, -3)
  line L4 (-22.1972, -3) -> (-17.8028, -3)
  line L5 (-14.1972, -3) -> (-9.8028, -3)
  line L6 (-6.1972, -3) -> (-1.8028, -3)
  line L7 (1.8028, -3) -> (6.1972, -3)
  line L8 (6.1972, 3) -> (1.8028, 3)
  line L9 (-1.8028, 3) -> (-6.1972, 3)
  line L10 (-9.8028, 3) -> (-14.1972, 3)
  line L11 (-22.1972, 3) -> (-17.8028, 3)
  arc A17 (6.1972, 3) -> (6.1972, -3) centre (8, 0) ccw
  arc A18 (9.8028, -3) -> (9.8028, 3) centre (8, 0) ccw
  arc A19 (1.8028, -3) -> (1.8028, 3) centre (0, 0) ccw
  arc A20 (-1.8028, 3) -> (-1.8028, -3) centre (0, 0) ccw
  arc A21 (-9.8028, 3) -> (-9.8028, -3) centre (-8, 0) ccw
  arc A22 (-6.1972, -3) -> (-6.1972, 3) centre (-8, 0) ccw
  arc A23 (-14.1972, -3) -> (-14.1972, 3) centre (-16, 0) ccw
  arc A24 (-17.8028, 3) -> (-17.8028, -3) centre (-16, 0) ccw
  line L12 (-26.2608, 6.5034) -> (-23.1534, 3.3961)
  line L13 (-30.5034, 2.2608) -> (-27.3961, -0.8466)
  arc A25 (-23.1534, 3.3961) -> (-27.3961, -0.8466) centre (-24, 0) ccw
  line L14 (-38.7098, 10.4671) -> (-41.8171, 13.5745)
  line L15 (-34.4671, 14.7098) -> (-37.5745, 17.8171)
  line L16 (-43.9706, 18.7733) -> (-43.9706, 23.1678)
  arc A26 (-37.9714, 18.7747) -> (-43.9706, 18.7733) centre (-40.9706, 16.9706) ccw
  arc A27 (-41.8171, 13.5745) -> (-37.5745, 17.8171) centre (-40.9706, 16.9706) ccw
  line L17 (-37.9714, 18.7747) -> (-37.9714, 23.1664)
  dimension "d145" = 7
  dimension "d151" = 3.5
  dimension "d152" = 3.5
  dimension "d153" = 3.5
  dimension "d154" = 3.5
  dimension "d155" = 4.3944
  dimension "d156" = 3.5
  dimension "d157" = 3.5
  dimension "d158" = 3.5
  dimension "d159" = 3.5
  dimension "d160" = 3.5
  dimension "d161" = 7
  dimension "d163" = 7
  dimension "d165" = 7
  dimension "d166" = 3.5
  dimension "d167" = 3.5
  dimension "d168" = 3.5
  dimension "d169" = 4.3918
extrude "Extrusion9" cut sketch "Sketch9" against normal through all contours A12 L11 A24 L4 | A13 L12 A25 L13 | A14 L14 A27 L15 | A15 L17 A26 L16 | A16 L3 A18 L2 | A23 L10 A21 L5 | A22 L9 A20 L6 | A19 L8 A17 L7
properties part number "Arm Beam"
